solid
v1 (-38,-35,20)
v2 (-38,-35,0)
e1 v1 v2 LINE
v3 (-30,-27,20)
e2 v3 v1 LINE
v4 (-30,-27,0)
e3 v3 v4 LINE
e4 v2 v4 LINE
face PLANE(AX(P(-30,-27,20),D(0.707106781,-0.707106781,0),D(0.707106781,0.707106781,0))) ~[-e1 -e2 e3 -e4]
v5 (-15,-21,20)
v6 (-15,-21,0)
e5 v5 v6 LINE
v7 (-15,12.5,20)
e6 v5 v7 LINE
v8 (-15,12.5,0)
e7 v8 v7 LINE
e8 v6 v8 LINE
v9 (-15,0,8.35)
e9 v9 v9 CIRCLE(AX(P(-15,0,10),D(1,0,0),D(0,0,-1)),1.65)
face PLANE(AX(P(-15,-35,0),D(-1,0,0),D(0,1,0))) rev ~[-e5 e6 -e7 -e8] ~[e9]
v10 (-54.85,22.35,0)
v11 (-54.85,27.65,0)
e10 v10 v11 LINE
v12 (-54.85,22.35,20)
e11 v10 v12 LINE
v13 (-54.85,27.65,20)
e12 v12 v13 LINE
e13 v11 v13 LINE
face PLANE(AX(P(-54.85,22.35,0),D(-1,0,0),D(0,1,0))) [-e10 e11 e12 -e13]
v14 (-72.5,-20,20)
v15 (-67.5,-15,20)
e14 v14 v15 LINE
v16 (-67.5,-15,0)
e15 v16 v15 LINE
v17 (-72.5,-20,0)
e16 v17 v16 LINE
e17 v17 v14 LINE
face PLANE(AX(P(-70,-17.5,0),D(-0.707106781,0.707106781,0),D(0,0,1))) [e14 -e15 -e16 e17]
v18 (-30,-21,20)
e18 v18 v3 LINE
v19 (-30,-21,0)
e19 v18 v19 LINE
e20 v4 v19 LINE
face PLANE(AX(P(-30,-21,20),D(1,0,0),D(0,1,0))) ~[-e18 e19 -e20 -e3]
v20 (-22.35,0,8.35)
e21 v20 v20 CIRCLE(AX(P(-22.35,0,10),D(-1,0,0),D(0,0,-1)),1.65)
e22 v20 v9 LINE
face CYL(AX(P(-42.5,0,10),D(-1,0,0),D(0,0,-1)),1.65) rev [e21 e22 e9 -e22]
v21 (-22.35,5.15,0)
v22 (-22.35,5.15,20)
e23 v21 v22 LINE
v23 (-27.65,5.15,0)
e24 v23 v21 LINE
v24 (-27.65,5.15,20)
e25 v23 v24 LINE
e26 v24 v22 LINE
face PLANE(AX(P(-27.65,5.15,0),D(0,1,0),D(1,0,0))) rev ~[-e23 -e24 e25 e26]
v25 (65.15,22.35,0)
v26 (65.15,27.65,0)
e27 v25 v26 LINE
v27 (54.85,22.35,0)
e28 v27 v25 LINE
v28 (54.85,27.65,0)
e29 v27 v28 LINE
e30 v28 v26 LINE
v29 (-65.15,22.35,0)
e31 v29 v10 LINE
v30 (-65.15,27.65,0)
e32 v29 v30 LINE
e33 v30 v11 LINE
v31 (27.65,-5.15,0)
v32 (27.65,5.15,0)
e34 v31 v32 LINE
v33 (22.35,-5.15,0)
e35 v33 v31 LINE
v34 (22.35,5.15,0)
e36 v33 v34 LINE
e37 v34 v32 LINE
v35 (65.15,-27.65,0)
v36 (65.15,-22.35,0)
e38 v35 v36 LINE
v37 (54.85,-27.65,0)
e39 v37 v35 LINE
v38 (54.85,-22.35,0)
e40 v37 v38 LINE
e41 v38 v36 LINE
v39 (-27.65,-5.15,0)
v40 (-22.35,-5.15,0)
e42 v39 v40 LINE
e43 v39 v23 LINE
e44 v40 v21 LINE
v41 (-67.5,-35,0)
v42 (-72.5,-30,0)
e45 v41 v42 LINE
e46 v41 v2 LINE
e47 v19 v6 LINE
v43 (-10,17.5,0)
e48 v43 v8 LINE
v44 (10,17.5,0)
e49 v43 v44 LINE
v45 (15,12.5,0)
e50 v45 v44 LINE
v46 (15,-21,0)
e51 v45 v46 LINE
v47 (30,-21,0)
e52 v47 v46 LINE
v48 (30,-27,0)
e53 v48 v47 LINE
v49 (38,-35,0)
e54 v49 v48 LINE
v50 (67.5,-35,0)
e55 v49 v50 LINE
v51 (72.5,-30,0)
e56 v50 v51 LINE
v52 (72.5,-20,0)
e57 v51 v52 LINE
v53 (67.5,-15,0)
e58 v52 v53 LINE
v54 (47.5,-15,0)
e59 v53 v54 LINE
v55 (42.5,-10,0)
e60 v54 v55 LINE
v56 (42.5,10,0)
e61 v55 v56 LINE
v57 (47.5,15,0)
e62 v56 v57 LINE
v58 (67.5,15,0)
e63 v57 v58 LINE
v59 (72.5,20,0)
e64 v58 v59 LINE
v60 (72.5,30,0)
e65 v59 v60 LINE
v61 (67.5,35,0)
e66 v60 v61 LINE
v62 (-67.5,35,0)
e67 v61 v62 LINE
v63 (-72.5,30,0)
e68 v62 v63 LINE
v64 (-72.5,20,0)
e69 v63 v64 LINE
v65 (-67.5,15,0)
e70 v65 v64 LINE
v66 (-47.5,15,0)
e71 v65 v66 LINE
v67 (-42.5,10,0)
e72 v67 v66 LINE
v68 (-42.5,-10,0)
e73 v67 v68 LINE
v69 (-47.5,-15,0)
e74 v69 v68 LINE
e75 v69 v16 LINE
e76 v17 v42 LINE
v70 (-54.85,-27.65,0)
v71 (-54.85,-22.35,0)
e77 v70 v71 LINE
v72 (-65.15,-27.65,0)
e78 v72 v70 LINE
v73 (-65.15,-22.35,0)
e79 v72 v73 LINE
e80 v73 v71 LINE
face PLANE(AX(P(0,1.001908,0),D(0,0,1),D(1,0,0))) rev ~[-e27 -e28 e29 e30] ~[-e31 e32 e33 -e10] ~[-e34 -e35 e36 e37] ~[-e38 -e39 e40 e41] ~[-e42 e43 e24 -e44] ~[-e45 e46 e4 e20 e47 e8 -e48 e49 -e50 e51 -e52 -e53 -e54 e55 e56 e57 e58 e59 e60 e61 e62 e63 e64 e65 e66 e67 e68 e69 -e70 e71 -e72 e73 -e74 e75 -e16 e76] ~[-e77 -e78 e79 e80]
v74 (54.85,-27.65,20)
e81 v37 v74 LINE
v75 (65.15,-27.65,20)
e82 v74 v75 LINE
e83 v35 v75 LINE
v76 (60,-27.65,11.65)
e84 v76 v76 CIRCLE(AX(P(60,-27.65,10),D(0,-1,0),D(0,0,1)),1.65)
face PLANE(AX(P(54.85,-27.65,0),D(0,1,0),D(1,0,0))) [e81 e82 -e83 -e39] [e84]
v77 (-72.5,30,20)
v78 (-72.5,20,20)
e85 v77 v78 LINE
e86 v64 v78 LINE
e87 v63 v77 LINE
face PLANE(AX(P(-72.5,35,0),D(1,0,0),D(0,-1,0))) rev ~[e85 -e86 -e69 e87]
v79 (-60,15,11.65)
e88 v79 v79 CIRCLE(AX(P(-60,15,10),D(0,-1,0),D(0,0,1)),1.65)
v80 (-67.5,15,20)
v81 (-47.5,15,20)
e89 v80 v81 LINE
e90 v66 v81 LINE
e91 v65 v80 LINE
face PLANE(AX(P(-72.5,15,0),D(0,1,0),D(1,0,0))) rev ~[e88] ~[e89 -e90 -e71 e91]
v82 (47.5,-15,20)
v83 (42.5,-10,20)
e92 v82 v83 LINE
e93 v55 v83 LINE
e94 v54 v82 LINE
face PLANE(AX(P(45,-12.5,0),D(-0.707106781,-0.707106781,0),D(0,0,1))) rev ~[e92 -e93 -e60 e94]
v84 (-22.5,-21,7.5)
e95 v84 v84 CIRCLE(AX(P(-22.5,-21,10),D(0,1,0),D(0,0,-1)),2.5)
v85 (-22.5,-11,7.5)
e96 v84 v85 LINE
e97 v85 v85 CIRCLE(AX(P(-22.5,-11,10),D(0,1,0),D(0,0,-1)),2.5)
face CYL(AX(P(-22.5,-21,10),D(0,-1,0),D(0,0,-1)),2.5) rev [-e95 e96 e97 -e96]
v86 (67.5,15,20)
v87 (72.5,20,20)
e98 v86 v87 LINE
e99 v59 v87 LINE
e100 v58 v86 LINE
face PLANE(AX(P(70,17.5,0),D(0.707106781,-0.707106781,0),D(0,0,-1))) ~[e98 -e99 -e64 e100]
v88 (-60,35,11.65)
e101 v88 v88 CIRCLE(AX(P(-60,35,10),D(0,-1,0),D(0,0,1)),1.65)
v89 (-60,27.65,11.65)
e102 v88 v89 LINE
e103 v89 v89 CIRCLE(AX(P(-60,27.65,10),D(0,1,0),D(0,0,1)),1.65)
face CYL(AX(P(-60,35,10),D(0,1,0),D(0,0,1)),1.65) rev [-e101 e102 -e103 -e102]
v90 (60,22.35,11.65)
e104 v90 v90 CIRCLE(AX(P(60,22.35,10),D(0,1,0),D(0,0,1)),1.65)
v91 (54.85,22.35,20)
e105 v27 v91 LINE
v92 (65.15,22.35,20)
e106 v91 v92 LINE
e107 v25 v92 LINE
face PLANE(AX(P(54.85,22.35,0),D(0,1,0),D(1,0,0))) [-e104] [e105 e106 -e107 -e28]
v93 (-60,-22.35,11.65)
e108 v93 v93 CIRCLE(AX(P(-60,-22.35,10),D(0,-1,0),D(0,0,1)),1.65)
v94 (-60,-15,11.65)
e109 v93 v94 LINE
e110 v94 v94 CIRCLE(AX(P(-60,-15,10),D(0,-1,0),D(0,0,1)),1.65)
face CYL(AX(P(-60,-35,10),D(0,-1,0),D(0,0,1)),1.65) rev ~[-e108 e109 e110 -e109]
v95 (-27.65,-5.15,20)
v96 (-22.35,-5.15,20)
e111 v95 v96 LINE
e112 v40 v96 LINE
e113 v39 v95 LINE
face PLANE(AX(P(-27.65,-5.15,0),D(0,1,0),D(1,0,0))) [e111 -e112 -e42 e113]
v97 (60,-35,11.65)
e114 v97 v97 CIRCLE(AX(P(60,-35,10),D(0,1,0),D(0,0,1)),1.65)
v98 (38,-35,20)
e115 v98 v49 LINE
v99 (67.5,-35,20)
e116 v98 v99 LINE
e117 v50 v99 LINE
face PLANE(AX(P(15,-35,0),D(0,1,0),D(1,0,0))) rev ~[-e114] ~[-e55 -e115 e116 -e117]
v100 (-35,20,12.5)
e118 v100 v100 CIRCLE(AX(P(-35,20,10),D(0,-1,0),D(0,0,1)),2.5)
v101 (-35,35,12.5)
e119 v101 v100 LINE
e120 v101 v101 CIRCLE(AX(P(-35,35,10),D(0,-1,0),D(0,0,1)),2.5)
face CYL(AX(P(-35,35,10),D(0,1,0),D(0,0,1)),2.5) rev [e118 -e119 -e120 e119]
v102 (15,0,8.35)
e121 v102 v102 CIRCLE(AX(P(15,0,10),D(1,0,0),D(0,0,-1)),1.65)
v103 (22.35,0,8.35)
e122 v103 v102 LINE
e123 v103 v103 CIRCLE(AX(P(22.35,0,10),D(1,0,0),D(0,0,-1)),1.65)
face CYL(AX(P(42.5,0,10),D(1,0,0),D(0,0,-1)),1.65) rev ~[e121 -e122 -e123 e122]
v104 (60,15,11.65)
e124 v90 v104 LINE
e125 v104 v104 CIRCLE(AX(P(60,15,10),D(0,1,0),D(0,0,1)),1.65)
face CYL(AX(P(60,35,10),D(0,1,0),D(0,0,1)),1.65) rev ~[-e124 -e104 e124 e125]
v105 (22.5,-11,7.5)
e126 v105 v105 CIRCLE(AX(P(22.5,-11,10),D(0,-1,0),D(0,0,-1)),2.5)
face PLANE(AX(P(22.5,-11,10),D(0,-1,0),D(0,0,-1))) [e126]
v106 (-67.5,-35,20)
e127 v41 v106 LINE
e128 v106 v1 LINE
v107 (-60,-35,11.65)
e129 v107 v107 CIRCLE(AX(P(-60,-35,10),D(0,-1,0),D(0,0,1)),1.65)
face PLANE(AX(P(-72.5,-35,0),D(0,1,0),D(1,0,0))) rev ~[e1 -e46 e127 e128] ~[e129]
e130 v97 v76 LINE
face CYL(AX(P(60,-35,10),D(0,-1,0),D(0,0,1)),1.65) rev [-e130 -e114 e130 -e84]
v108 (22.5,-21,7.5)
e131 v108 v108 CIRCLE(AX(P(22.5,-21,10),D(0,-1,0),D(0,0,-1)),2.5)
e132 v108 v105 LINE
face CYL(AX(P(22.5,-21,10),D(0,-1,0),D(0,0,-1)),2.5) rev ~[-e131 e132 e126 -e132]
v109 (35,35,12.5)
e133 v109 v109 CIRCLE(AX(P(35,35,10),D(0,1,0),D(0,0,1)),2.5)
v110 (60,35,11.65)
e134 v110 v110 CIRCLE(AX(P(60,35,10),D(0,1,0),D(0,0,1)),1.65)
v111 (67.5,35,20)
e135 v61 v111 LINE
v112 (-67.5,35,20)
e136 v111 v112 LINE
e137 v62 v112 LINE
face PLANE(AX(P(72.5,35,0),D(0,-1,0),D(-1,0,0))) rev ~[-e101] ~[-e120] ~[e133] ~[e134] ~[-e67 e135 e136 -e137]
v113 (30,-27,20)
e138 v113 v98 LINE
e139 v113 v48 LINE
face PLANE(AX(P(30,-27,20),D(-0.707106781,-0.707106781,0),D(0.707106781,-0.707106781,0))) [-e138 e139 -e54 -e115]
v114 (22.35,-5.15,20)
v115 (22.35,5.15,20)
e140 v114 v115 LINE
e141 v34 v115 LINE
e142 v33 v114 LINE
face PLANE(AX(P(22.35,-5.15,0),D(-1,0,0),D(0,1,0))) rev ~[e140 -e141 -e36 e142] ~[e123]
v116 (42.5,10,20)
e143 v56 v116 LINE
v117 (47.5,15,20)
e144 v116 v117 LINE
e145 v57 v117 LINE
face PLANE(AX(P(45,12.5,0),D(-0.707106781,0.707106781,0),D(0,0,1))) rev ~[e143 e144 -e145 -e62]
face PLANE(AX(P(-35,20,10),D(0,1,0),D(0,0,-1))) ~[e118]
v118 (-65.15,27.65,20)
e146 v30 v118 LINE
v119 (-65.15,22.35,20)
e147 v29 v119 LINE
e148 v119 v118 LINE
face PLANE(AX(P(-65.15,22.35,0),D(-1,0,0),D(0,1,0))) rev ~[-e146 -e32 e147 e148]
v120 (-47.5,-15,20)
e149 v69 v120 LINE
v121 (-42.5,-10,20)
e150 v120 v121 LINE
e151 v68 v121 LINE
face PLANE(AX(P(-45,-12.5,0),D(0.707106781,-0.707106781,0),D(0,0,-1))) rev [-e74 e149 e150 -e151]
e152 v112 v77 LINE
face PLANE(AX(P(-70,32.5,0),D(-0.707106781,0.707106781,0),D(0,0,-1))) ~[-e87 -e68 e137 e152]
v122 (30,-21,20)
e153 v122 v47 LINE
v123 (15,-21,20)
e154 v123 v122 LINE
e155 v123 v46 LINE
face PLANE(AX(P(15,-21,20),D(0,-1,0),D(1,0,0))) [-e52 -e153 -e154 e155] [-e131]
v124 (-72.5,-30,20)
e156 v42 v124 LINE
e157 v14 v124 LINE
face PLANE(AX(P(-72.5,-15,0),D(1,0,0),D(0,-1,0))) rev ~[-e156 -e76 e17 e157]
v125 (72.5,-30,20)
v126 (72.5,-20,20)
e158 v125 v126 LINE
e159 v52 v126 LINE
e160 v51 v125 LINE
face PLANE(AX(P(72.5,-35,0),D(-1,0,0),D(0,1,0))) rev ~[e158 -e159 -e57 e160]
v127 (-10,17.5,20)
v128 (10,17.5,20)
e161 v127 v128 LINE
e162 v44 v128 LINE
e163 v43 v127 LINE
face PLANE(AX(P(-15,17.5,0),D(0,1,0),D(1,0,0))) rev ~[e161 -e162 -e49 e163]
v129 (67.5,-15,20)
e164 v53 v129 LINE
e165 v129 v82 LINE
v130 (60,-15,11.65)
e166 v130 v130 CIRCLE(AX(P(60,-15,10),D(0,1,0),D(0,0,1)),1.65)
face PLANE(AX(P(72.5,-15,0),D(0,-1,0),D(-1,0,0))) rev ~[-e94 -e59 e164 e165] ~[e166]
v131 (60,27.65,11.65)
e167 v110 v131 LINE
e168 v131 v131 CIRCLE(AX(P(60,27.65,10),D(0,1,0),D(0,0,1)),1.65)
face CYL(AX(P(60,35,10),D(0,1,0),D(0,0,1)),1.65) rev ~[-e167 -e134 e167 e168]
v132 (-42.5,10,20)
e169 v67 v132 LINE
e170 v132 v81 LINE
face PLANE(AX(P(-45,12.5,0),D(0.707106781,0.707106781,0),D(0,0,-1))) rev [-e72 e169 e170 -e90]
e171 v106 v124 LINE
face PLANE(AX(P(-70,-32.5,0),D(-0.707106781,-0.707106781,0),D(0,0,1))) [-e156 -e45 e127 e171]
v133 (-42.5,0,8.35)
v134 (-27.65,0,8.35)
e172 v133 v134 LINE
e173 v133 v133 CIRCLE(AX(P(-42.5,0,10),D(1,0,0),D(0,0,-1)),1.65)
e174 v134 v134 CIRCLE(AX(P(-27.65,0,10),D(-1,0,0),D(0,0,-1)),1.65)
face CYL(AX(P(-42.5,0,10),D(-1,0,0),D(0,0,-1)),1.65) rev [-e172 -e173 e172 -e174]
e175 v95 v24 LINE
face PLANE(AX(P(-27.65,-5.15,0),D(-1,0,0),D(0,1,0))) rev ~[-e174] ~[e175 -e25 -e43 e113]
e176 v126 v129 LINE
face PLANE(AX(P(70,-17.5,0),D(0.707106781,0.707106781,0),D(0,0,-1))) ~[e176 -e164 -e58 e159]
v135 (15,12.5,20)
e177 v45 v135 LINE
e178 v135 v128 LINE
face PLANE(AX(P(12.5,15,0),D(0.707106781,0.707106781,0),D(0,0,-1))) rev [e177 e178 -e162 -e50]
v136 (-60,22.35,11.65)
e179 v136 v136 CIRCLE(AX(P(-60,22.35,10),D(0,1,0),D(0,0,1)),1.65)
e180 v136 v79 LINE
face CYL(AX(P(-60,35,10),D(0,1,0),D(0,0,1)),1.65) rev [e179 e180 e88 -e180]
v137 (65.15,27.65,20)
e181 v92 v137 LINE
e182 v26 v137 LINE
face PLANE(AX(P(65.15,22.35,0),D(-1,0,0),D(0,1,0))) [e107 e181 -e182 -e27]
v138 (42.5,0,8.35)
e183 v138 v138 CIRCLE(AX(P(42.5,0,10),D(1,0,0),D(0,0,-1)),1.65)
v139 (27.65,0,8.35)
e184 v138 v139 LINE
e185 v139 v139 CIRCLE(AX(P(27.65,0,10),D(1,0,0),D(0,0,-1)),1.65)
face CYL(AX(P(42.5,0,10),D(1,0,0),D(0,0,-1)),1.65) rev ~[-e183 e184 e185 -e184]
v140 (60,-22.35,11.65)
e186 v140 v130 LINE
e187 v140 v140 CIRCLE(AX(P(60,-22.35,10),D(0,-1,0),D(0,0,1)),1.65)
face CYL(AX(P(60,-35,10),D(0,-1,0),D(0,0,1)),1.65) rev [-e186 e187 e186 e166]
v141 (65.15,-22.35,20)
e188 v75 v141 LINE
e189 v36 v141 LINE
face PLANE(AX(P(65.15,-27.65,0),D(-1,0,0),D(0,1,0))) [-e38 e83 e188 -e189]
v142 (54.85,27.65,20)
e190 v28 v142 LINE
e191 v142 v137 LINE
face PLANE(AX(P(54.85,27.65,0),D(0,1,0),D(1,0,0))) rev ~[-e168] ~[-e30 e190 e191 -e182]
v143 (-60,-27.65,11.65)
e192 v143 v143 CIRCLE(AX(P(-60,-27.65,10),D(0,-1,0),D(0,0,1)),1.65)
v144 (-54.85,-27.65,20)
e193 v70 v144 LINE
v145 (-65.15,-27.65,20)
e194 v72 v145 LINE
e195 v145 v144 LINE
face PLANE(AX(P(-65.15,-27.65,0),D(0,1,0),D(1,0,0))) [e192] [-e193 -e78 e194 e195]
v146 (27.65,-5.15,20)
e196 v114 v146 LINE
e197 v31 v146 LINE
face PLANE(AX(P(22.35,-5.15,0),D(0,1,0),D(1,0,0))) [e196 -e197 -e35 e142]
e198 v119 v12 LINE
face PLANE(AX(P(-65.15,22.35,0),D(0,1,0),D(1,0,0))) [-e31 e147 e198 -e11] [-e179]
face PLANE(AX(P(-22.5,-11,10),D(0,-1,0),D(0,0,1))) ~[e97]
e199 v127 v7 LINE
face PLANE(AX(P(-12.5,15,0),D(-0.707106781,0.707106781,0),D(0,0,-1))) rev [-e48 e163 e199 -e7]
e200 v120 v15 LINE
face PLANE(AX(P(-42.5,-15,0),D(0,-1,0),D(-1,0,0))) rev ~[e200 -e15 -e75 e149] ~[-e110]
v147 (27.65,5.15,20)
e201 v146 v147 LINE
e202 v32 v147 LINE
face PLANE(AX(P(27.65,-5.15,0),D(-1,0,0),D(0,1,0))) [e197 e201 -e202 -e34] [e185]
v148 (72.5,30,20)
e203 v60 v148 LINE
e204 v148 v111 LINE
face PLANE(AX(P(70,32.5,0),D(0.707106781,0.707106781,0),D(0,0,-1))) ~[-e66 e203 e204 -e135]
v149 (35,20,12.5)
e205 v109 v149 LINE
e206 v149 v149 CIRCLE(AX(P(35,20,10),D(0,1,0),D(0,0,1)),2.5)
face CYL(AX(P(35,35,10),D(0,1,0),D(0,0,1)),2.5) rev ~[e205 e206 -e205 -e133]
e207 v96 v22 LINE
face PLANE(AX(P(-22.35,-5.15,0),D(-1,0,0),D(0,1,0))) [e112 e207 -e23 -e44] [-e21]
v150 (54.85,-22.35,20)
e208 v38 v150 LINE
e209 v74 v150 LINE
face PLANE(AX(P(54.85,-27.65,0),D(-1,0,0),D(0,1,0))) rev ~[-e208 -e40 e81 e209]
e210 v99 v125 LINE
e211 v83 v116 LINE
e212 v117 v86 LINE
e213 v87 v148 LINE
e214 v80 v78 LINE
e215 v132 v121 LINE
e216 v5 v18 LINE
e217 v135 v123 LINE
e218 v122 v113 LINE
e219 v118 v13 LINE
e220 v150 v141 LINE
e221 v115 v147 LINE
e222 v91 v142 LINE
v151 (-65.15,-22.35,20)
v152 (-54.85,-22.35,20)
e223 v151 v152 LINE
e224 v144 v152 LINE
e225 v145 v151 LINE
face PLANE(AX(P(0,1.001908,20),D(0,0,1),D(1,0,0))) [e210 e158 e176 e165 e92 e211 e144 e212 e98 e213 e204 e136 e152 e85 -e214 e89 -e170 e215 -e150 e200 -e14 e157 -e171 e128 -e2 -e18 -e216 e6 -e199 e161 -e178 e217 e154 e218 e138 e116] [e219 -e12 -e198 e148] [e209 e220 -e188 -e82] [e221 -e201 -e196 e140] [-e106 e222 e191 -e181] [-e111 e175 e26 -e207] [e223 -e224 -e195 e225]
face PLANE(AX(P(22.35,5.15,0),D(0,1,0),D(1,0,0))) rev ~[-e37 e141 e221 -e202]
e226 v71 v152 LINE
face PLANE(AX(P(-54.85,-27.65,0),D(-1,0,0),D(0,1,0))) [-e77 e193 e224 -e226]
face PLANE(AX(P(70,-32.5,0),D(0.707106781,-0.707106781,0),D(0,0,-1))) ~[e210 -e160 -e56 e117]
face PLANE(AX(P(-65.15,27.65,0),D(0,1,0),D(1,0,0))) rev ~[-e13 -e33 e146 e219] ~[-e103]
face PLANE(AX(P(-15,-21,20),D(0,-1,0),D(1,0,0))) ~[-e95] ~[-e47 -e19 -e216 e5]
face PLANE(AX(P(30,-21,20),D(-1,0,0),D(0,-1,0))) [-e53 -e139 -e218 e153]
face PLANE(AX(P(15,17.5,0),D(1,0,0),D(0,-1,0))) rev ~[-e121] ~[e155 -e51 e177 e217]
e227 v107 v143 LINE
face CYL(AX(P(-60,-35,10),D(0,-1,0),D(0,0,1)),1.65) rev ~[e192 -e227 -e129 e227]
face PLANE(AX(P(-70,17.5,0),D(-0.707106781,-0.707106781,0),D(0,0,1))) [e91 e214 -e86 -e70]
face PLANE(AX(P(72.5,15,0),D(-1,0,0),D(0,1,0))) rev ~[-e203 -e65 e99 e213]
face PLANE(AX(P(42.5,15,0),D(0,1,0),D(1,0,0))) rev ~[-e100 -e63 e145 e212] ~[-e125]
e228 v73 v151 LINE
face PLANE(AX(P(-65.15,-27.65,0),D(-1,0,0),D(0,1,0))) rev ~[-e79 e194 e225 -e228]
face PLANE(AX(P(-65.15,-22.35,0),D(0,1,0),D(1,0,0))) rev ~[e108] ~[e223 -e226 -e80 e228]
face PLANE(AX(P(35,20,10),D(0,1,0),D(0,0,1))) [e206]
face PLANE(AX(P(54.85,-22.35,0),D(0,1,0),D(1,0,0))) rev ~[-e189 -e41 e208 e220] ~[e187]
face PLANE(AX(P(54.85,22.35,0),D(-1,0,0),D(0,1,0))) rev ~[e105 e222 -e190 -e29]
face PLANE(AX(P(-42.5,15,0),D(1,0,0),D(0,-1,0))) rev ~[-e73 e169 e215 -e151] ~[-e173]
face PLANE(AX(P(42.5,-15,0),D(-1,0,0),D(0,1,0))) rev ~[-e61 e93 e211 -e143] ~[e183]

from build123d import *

# Parameters (mm, degrees)
SKETCH_1_W               = 10.3
SKETCH_1_H               = 5.3
SKETCH_1_W_2             = 5.3
SKETCH_1_H_2             = 10.3
EXTRUDE_2_DEPTH          = 20
CHAMFER_1_SIZE           = 5
CUT_EXTRUDE_1_REACH      = 104.744
SKETCH_2_R               = 1.65
CUT_EXTRUDE_2_REACH      = 123.861
SKETCH_4_R               = 1.65
MIRROR_2_COPY_1_REACH    = 104.744
MIRROR_2_COPY_1_SKETCH_R = 1.65
SKETCH_7_R               = 2.5
CUT_EXTRUDE_4_DEPTH      = 15
CUT_EXTRUDE_7_REACH      = 84.953
SKETCH_11_R              = 2.5
CUT_EXTRUDE_8_DEPTH      = 10


with BuildPart() as part:
    # 草圖1 → 填料-伸長2 (new body)
    with BuildSketch(Plane.XY):
        Polygon((15, 17.5), (15, -35), (72.5, -35), (72.5, -15), (42.5, -15), (42.5, 15), (72.5, 15), (72.5, 35), (-72.5, 35), (-72.5, 15), (-42.5, 15), (-42.5, -15), (-72.5, -15), (-72.5, -35), (-15, -35), (-15, 17.5), align=None)
        with Locations((-60, -25)):
            Rectangle(SKETCH_1_W, SKETCH_1_H, mode=Mode.SUBTRACT)
        with Locations((-60, 25)):
            Rectangle(SKETCH_1_W, SKETCH_1_H, mode=Mode.SUBTRACT)
        with Locations((-25, 0)):
            Rectangle(SKETCH_1_W_2, SKETCH_1_H_2, mode=Mode.SUBTRACT)
        with Locations((60, -25)):
            Rectangle(SKETCH_1_W, SKETCH_1_H, mode=Mode.SUBTRACT)
        with Locations((25, 0)):
            Rectangle(SKETCH_1_W_2, SKETCH_1_H_2, mode=Mode.SUBTRACT)
        with Locations((60, 25)):
            Rectangle(SKETCH_1_W, SKETCH_1_H, mode=Mode.SUBTRACT)
    extrude(amount=EXTRUDE_2_DEPTH)

    # 導角1
    chamfer_1_edges = [part.edges().sort_by_distance(p)[0] for p in [
        (-15, 17.5, 10),
        (-72.5, -35, 10),
        (-72.5, -15, 10),
        (-42.5, -15, 10),
        (-42.5, 15, 10),
        (-72.5, 15, 10),
        (-72.5, 35, 10),
        (72.5, 35, 10),
        (72.5, 15, 10),
        (42.5, 15, 10),
        (42.5, -15, 10),
        (72.5, -15, 10),
        (72.5, -35, 10),
        (15, 17.5, 10),
    ]]
    chamfer(chamfer_1_edges, length=CHAMFER_1_SIZE)

    # 除料-伸長1: up to this face of the body (flat: up to its plane)
    cut_extrude_1_end = Plane(part.part.faces().sort_by_distance((57.5, 15, 10))[0])
    # 草圖2 → 除料-伸長1 (cut, up to the picked face)
    with BuildSketch(Plane(origin=(0, 35, 0), x_dir=(1, 0, 0), z_dir=(0, 1, 0)), mode=Mode.PRIVATE) as cut_extrude_1_sk1:
        with Locations(Location((60, -10, 0), (0, 0, 270))):
            Circle(SKETCH_2_R)
    cut_extrude_1_tool1 = split(extrude(cut_extrude_1_sk1.sketch, amount=-CUT_EXTRUDE_1_REACH, mode=Mode.PRIVATE), bisect_by=cut_extrude_1_end, keep=Keep.BOTH, mode=Mode.PRIVATE)
    cut_extrude_1 = cut_extrude_1_tool1.solids().sort_by(Axis((60, 35, 10), (0, -1, 0)))[0]
    add(cut_extrude_1, mode=Mode.SUBTRACT)

    # 除料-伸長2: up to this face of the body (flat: up to its plane)
    cut_extrude_2_end = Plane(part.part.faces().sort_by_distance((15, -11.25, 10))[0])
    # 草圖4 → 除料-伸長2 (cut, up to the picked face)
    with BuildSketch(Plane(origin=(42.5, 0, 0), x_dir=(0, 0, -1), z_dir=(1, 0, 0)), mode=Mode.PRIVATE) as cut_extrude_2_sk1:
        with Locations((-10, 0)):
            Circle(SKETCH_4_R)
    cut_extrude_2_tool1 = split(extrude(cut_extrude_2_sk1.sketch, amount=-CUT_EXTRUDE_2_REACH, mode=Mode.PRIVATE), bisect_by=cut_extrude_2_end, keep=Keep.BOTH, mode=Mode.PRIVATE)
    cut_extrude_2 = cut_extrude_2_tool1.solids().sort_by(Axis((42.5, 0, 10), (-1, 0, 0)))[0]
    add(cut_extrude_2, mode=Mode.SUBTRACT)

    # 鏡射1: 除料-伸長1 across plane
    add(cut_extrude_1.mirror(Plane.ZX), mode=Mode.SUBTRACT)

    # 鏡射2: 除料-伸長1, 除料-伸長2 across plane
    add(cut_extrude_1.mirror(Plane(origin=(0, 0, 0), x_dir=(0, 0, 1), z_dir=(1, 0, 0))), mode=Mode.SUBTRACT)
    add(cut_extrude_2.mirror(Plane(origin=(0, 0, 0), x_dir=(0, 0, 1), z_dir=(1, 0, 0))), mode=Mode.SUBTRACT)

    # 鏡射2 copy 1: up to this face of the body (flat: up to its plane)
    mirror_2_copy_1_end = Plane(part.part.faces().sort_by_distance((-57.5, -15, 10))[0])
    # 鏡射2 copy 1 sketch → 鏡射2 copy 1 (cut, up to the picked face)
    with BuildSketch(Plane(origin=(0, -35, 0), x_dir=(-1, 0, 0), z_dir=(0, -1, 0)), mode=Mode.PRIVATE) as mirror_2_copy_1_sk1:
        with Locations(Location((60, -10, 0), (0, 0, 270))):
            Circle(MIRROR_2_COPY_1_SKETCH_R)
    mirror_2_copy_1_tool1 = split(extrude(mirror_2_copy_1_sk1.sketch, amount=-MIRROR_2_COPY_1_REACH, mode=Mode.PRIVATE), bisect_by=mirror_2_copy_1_end, keep=Keep.BOTH, mode=Mode.PRIVATE)
    add(mirror_2_copy_1_tool1.solids().sort_by(Axis((-60, -35, 10), (0, 1, 0)))[0], mode=Mode.SUBTRACT)

    # 草圖7 → 除料-伸長4 (cut)
    with BuildSketch(Plane(origin=(0, 35, 0), x_dir=(1, 0, 0), z_dir=(0, 1, 0))):
        with Locations(Location((35, -10, 0), (0, 0, 270))):
            Circle(SKETCH_7_R)
    cut_extrude_4 = extrude(amount=-CUT_EXTRUDE_4_DEPTH, mode=Mode.SUBTRACT)

    # 鏡射9: 除料-伸長4 across plane
    add(cut_extrude_4.mirror(Plane(origin=(0, 0, 0), x_dir=(0, 0, 1), z_dir=(1, 0, 0))), mode=Mode.SUBTRACT)

    # 草圖10 → 除料-伸長7 (cut, up to next)
    with BuildSketch(Plane.XY.offset(20), mode=Mode.PRIVATE) as cut_extrude_7_sk1:
        Polygon((15, -35), (15, -21), (30, -21), (30, -27), (38, -35), (30, -35), align=None)
    cut_extrude_7_tool1 = extrude(cut_extrude_7_sk1.sketch, amount=-CUT_EXTRUDE_7_REACH, mode=Mode.PRIVATE) & part.part
    cut_extrude_7 = cut_extrude_7_tool1.solids().sort_by_distance((23.844353, -28.573003, 20))[0]
    add(cut_extrude_7, mode=Mode.SUBTRACT)

    # 草圖11 → 除料-伸長8 (cut)
    with BuildSketch(Plane(origin=(0, -21, 0), x_dir=(-1, 0, 0), z_dir=(0, -1, 0))):
        with Locations(Location((-22.5, -10, 0), (0, 0, 90))):
            Circle(SKETCH_11_R)
    cut_extrude_8 = extrude(amount=-CUT_EXTRUDE_8_DEPTH, mode=Mode.SUBTRACT)

    # 鏡射10: 除料-伸長7, 除料-伸長8 across plane
    add(cut_extrude_7.mirror(Plane(origin=(0, 0, 0), x_dir=(0, 0, 1), z_dir=(1, 0, 0))), mode=Mode.SUBTRACT)
    add(cut_extrude_8.mirror(Plane(origin=(0, 0, 0), x_dir=(0, 0, 1), z_dir=(1, 0, 0))), mode=Mode.SUBTRACT)


solid = part.part
